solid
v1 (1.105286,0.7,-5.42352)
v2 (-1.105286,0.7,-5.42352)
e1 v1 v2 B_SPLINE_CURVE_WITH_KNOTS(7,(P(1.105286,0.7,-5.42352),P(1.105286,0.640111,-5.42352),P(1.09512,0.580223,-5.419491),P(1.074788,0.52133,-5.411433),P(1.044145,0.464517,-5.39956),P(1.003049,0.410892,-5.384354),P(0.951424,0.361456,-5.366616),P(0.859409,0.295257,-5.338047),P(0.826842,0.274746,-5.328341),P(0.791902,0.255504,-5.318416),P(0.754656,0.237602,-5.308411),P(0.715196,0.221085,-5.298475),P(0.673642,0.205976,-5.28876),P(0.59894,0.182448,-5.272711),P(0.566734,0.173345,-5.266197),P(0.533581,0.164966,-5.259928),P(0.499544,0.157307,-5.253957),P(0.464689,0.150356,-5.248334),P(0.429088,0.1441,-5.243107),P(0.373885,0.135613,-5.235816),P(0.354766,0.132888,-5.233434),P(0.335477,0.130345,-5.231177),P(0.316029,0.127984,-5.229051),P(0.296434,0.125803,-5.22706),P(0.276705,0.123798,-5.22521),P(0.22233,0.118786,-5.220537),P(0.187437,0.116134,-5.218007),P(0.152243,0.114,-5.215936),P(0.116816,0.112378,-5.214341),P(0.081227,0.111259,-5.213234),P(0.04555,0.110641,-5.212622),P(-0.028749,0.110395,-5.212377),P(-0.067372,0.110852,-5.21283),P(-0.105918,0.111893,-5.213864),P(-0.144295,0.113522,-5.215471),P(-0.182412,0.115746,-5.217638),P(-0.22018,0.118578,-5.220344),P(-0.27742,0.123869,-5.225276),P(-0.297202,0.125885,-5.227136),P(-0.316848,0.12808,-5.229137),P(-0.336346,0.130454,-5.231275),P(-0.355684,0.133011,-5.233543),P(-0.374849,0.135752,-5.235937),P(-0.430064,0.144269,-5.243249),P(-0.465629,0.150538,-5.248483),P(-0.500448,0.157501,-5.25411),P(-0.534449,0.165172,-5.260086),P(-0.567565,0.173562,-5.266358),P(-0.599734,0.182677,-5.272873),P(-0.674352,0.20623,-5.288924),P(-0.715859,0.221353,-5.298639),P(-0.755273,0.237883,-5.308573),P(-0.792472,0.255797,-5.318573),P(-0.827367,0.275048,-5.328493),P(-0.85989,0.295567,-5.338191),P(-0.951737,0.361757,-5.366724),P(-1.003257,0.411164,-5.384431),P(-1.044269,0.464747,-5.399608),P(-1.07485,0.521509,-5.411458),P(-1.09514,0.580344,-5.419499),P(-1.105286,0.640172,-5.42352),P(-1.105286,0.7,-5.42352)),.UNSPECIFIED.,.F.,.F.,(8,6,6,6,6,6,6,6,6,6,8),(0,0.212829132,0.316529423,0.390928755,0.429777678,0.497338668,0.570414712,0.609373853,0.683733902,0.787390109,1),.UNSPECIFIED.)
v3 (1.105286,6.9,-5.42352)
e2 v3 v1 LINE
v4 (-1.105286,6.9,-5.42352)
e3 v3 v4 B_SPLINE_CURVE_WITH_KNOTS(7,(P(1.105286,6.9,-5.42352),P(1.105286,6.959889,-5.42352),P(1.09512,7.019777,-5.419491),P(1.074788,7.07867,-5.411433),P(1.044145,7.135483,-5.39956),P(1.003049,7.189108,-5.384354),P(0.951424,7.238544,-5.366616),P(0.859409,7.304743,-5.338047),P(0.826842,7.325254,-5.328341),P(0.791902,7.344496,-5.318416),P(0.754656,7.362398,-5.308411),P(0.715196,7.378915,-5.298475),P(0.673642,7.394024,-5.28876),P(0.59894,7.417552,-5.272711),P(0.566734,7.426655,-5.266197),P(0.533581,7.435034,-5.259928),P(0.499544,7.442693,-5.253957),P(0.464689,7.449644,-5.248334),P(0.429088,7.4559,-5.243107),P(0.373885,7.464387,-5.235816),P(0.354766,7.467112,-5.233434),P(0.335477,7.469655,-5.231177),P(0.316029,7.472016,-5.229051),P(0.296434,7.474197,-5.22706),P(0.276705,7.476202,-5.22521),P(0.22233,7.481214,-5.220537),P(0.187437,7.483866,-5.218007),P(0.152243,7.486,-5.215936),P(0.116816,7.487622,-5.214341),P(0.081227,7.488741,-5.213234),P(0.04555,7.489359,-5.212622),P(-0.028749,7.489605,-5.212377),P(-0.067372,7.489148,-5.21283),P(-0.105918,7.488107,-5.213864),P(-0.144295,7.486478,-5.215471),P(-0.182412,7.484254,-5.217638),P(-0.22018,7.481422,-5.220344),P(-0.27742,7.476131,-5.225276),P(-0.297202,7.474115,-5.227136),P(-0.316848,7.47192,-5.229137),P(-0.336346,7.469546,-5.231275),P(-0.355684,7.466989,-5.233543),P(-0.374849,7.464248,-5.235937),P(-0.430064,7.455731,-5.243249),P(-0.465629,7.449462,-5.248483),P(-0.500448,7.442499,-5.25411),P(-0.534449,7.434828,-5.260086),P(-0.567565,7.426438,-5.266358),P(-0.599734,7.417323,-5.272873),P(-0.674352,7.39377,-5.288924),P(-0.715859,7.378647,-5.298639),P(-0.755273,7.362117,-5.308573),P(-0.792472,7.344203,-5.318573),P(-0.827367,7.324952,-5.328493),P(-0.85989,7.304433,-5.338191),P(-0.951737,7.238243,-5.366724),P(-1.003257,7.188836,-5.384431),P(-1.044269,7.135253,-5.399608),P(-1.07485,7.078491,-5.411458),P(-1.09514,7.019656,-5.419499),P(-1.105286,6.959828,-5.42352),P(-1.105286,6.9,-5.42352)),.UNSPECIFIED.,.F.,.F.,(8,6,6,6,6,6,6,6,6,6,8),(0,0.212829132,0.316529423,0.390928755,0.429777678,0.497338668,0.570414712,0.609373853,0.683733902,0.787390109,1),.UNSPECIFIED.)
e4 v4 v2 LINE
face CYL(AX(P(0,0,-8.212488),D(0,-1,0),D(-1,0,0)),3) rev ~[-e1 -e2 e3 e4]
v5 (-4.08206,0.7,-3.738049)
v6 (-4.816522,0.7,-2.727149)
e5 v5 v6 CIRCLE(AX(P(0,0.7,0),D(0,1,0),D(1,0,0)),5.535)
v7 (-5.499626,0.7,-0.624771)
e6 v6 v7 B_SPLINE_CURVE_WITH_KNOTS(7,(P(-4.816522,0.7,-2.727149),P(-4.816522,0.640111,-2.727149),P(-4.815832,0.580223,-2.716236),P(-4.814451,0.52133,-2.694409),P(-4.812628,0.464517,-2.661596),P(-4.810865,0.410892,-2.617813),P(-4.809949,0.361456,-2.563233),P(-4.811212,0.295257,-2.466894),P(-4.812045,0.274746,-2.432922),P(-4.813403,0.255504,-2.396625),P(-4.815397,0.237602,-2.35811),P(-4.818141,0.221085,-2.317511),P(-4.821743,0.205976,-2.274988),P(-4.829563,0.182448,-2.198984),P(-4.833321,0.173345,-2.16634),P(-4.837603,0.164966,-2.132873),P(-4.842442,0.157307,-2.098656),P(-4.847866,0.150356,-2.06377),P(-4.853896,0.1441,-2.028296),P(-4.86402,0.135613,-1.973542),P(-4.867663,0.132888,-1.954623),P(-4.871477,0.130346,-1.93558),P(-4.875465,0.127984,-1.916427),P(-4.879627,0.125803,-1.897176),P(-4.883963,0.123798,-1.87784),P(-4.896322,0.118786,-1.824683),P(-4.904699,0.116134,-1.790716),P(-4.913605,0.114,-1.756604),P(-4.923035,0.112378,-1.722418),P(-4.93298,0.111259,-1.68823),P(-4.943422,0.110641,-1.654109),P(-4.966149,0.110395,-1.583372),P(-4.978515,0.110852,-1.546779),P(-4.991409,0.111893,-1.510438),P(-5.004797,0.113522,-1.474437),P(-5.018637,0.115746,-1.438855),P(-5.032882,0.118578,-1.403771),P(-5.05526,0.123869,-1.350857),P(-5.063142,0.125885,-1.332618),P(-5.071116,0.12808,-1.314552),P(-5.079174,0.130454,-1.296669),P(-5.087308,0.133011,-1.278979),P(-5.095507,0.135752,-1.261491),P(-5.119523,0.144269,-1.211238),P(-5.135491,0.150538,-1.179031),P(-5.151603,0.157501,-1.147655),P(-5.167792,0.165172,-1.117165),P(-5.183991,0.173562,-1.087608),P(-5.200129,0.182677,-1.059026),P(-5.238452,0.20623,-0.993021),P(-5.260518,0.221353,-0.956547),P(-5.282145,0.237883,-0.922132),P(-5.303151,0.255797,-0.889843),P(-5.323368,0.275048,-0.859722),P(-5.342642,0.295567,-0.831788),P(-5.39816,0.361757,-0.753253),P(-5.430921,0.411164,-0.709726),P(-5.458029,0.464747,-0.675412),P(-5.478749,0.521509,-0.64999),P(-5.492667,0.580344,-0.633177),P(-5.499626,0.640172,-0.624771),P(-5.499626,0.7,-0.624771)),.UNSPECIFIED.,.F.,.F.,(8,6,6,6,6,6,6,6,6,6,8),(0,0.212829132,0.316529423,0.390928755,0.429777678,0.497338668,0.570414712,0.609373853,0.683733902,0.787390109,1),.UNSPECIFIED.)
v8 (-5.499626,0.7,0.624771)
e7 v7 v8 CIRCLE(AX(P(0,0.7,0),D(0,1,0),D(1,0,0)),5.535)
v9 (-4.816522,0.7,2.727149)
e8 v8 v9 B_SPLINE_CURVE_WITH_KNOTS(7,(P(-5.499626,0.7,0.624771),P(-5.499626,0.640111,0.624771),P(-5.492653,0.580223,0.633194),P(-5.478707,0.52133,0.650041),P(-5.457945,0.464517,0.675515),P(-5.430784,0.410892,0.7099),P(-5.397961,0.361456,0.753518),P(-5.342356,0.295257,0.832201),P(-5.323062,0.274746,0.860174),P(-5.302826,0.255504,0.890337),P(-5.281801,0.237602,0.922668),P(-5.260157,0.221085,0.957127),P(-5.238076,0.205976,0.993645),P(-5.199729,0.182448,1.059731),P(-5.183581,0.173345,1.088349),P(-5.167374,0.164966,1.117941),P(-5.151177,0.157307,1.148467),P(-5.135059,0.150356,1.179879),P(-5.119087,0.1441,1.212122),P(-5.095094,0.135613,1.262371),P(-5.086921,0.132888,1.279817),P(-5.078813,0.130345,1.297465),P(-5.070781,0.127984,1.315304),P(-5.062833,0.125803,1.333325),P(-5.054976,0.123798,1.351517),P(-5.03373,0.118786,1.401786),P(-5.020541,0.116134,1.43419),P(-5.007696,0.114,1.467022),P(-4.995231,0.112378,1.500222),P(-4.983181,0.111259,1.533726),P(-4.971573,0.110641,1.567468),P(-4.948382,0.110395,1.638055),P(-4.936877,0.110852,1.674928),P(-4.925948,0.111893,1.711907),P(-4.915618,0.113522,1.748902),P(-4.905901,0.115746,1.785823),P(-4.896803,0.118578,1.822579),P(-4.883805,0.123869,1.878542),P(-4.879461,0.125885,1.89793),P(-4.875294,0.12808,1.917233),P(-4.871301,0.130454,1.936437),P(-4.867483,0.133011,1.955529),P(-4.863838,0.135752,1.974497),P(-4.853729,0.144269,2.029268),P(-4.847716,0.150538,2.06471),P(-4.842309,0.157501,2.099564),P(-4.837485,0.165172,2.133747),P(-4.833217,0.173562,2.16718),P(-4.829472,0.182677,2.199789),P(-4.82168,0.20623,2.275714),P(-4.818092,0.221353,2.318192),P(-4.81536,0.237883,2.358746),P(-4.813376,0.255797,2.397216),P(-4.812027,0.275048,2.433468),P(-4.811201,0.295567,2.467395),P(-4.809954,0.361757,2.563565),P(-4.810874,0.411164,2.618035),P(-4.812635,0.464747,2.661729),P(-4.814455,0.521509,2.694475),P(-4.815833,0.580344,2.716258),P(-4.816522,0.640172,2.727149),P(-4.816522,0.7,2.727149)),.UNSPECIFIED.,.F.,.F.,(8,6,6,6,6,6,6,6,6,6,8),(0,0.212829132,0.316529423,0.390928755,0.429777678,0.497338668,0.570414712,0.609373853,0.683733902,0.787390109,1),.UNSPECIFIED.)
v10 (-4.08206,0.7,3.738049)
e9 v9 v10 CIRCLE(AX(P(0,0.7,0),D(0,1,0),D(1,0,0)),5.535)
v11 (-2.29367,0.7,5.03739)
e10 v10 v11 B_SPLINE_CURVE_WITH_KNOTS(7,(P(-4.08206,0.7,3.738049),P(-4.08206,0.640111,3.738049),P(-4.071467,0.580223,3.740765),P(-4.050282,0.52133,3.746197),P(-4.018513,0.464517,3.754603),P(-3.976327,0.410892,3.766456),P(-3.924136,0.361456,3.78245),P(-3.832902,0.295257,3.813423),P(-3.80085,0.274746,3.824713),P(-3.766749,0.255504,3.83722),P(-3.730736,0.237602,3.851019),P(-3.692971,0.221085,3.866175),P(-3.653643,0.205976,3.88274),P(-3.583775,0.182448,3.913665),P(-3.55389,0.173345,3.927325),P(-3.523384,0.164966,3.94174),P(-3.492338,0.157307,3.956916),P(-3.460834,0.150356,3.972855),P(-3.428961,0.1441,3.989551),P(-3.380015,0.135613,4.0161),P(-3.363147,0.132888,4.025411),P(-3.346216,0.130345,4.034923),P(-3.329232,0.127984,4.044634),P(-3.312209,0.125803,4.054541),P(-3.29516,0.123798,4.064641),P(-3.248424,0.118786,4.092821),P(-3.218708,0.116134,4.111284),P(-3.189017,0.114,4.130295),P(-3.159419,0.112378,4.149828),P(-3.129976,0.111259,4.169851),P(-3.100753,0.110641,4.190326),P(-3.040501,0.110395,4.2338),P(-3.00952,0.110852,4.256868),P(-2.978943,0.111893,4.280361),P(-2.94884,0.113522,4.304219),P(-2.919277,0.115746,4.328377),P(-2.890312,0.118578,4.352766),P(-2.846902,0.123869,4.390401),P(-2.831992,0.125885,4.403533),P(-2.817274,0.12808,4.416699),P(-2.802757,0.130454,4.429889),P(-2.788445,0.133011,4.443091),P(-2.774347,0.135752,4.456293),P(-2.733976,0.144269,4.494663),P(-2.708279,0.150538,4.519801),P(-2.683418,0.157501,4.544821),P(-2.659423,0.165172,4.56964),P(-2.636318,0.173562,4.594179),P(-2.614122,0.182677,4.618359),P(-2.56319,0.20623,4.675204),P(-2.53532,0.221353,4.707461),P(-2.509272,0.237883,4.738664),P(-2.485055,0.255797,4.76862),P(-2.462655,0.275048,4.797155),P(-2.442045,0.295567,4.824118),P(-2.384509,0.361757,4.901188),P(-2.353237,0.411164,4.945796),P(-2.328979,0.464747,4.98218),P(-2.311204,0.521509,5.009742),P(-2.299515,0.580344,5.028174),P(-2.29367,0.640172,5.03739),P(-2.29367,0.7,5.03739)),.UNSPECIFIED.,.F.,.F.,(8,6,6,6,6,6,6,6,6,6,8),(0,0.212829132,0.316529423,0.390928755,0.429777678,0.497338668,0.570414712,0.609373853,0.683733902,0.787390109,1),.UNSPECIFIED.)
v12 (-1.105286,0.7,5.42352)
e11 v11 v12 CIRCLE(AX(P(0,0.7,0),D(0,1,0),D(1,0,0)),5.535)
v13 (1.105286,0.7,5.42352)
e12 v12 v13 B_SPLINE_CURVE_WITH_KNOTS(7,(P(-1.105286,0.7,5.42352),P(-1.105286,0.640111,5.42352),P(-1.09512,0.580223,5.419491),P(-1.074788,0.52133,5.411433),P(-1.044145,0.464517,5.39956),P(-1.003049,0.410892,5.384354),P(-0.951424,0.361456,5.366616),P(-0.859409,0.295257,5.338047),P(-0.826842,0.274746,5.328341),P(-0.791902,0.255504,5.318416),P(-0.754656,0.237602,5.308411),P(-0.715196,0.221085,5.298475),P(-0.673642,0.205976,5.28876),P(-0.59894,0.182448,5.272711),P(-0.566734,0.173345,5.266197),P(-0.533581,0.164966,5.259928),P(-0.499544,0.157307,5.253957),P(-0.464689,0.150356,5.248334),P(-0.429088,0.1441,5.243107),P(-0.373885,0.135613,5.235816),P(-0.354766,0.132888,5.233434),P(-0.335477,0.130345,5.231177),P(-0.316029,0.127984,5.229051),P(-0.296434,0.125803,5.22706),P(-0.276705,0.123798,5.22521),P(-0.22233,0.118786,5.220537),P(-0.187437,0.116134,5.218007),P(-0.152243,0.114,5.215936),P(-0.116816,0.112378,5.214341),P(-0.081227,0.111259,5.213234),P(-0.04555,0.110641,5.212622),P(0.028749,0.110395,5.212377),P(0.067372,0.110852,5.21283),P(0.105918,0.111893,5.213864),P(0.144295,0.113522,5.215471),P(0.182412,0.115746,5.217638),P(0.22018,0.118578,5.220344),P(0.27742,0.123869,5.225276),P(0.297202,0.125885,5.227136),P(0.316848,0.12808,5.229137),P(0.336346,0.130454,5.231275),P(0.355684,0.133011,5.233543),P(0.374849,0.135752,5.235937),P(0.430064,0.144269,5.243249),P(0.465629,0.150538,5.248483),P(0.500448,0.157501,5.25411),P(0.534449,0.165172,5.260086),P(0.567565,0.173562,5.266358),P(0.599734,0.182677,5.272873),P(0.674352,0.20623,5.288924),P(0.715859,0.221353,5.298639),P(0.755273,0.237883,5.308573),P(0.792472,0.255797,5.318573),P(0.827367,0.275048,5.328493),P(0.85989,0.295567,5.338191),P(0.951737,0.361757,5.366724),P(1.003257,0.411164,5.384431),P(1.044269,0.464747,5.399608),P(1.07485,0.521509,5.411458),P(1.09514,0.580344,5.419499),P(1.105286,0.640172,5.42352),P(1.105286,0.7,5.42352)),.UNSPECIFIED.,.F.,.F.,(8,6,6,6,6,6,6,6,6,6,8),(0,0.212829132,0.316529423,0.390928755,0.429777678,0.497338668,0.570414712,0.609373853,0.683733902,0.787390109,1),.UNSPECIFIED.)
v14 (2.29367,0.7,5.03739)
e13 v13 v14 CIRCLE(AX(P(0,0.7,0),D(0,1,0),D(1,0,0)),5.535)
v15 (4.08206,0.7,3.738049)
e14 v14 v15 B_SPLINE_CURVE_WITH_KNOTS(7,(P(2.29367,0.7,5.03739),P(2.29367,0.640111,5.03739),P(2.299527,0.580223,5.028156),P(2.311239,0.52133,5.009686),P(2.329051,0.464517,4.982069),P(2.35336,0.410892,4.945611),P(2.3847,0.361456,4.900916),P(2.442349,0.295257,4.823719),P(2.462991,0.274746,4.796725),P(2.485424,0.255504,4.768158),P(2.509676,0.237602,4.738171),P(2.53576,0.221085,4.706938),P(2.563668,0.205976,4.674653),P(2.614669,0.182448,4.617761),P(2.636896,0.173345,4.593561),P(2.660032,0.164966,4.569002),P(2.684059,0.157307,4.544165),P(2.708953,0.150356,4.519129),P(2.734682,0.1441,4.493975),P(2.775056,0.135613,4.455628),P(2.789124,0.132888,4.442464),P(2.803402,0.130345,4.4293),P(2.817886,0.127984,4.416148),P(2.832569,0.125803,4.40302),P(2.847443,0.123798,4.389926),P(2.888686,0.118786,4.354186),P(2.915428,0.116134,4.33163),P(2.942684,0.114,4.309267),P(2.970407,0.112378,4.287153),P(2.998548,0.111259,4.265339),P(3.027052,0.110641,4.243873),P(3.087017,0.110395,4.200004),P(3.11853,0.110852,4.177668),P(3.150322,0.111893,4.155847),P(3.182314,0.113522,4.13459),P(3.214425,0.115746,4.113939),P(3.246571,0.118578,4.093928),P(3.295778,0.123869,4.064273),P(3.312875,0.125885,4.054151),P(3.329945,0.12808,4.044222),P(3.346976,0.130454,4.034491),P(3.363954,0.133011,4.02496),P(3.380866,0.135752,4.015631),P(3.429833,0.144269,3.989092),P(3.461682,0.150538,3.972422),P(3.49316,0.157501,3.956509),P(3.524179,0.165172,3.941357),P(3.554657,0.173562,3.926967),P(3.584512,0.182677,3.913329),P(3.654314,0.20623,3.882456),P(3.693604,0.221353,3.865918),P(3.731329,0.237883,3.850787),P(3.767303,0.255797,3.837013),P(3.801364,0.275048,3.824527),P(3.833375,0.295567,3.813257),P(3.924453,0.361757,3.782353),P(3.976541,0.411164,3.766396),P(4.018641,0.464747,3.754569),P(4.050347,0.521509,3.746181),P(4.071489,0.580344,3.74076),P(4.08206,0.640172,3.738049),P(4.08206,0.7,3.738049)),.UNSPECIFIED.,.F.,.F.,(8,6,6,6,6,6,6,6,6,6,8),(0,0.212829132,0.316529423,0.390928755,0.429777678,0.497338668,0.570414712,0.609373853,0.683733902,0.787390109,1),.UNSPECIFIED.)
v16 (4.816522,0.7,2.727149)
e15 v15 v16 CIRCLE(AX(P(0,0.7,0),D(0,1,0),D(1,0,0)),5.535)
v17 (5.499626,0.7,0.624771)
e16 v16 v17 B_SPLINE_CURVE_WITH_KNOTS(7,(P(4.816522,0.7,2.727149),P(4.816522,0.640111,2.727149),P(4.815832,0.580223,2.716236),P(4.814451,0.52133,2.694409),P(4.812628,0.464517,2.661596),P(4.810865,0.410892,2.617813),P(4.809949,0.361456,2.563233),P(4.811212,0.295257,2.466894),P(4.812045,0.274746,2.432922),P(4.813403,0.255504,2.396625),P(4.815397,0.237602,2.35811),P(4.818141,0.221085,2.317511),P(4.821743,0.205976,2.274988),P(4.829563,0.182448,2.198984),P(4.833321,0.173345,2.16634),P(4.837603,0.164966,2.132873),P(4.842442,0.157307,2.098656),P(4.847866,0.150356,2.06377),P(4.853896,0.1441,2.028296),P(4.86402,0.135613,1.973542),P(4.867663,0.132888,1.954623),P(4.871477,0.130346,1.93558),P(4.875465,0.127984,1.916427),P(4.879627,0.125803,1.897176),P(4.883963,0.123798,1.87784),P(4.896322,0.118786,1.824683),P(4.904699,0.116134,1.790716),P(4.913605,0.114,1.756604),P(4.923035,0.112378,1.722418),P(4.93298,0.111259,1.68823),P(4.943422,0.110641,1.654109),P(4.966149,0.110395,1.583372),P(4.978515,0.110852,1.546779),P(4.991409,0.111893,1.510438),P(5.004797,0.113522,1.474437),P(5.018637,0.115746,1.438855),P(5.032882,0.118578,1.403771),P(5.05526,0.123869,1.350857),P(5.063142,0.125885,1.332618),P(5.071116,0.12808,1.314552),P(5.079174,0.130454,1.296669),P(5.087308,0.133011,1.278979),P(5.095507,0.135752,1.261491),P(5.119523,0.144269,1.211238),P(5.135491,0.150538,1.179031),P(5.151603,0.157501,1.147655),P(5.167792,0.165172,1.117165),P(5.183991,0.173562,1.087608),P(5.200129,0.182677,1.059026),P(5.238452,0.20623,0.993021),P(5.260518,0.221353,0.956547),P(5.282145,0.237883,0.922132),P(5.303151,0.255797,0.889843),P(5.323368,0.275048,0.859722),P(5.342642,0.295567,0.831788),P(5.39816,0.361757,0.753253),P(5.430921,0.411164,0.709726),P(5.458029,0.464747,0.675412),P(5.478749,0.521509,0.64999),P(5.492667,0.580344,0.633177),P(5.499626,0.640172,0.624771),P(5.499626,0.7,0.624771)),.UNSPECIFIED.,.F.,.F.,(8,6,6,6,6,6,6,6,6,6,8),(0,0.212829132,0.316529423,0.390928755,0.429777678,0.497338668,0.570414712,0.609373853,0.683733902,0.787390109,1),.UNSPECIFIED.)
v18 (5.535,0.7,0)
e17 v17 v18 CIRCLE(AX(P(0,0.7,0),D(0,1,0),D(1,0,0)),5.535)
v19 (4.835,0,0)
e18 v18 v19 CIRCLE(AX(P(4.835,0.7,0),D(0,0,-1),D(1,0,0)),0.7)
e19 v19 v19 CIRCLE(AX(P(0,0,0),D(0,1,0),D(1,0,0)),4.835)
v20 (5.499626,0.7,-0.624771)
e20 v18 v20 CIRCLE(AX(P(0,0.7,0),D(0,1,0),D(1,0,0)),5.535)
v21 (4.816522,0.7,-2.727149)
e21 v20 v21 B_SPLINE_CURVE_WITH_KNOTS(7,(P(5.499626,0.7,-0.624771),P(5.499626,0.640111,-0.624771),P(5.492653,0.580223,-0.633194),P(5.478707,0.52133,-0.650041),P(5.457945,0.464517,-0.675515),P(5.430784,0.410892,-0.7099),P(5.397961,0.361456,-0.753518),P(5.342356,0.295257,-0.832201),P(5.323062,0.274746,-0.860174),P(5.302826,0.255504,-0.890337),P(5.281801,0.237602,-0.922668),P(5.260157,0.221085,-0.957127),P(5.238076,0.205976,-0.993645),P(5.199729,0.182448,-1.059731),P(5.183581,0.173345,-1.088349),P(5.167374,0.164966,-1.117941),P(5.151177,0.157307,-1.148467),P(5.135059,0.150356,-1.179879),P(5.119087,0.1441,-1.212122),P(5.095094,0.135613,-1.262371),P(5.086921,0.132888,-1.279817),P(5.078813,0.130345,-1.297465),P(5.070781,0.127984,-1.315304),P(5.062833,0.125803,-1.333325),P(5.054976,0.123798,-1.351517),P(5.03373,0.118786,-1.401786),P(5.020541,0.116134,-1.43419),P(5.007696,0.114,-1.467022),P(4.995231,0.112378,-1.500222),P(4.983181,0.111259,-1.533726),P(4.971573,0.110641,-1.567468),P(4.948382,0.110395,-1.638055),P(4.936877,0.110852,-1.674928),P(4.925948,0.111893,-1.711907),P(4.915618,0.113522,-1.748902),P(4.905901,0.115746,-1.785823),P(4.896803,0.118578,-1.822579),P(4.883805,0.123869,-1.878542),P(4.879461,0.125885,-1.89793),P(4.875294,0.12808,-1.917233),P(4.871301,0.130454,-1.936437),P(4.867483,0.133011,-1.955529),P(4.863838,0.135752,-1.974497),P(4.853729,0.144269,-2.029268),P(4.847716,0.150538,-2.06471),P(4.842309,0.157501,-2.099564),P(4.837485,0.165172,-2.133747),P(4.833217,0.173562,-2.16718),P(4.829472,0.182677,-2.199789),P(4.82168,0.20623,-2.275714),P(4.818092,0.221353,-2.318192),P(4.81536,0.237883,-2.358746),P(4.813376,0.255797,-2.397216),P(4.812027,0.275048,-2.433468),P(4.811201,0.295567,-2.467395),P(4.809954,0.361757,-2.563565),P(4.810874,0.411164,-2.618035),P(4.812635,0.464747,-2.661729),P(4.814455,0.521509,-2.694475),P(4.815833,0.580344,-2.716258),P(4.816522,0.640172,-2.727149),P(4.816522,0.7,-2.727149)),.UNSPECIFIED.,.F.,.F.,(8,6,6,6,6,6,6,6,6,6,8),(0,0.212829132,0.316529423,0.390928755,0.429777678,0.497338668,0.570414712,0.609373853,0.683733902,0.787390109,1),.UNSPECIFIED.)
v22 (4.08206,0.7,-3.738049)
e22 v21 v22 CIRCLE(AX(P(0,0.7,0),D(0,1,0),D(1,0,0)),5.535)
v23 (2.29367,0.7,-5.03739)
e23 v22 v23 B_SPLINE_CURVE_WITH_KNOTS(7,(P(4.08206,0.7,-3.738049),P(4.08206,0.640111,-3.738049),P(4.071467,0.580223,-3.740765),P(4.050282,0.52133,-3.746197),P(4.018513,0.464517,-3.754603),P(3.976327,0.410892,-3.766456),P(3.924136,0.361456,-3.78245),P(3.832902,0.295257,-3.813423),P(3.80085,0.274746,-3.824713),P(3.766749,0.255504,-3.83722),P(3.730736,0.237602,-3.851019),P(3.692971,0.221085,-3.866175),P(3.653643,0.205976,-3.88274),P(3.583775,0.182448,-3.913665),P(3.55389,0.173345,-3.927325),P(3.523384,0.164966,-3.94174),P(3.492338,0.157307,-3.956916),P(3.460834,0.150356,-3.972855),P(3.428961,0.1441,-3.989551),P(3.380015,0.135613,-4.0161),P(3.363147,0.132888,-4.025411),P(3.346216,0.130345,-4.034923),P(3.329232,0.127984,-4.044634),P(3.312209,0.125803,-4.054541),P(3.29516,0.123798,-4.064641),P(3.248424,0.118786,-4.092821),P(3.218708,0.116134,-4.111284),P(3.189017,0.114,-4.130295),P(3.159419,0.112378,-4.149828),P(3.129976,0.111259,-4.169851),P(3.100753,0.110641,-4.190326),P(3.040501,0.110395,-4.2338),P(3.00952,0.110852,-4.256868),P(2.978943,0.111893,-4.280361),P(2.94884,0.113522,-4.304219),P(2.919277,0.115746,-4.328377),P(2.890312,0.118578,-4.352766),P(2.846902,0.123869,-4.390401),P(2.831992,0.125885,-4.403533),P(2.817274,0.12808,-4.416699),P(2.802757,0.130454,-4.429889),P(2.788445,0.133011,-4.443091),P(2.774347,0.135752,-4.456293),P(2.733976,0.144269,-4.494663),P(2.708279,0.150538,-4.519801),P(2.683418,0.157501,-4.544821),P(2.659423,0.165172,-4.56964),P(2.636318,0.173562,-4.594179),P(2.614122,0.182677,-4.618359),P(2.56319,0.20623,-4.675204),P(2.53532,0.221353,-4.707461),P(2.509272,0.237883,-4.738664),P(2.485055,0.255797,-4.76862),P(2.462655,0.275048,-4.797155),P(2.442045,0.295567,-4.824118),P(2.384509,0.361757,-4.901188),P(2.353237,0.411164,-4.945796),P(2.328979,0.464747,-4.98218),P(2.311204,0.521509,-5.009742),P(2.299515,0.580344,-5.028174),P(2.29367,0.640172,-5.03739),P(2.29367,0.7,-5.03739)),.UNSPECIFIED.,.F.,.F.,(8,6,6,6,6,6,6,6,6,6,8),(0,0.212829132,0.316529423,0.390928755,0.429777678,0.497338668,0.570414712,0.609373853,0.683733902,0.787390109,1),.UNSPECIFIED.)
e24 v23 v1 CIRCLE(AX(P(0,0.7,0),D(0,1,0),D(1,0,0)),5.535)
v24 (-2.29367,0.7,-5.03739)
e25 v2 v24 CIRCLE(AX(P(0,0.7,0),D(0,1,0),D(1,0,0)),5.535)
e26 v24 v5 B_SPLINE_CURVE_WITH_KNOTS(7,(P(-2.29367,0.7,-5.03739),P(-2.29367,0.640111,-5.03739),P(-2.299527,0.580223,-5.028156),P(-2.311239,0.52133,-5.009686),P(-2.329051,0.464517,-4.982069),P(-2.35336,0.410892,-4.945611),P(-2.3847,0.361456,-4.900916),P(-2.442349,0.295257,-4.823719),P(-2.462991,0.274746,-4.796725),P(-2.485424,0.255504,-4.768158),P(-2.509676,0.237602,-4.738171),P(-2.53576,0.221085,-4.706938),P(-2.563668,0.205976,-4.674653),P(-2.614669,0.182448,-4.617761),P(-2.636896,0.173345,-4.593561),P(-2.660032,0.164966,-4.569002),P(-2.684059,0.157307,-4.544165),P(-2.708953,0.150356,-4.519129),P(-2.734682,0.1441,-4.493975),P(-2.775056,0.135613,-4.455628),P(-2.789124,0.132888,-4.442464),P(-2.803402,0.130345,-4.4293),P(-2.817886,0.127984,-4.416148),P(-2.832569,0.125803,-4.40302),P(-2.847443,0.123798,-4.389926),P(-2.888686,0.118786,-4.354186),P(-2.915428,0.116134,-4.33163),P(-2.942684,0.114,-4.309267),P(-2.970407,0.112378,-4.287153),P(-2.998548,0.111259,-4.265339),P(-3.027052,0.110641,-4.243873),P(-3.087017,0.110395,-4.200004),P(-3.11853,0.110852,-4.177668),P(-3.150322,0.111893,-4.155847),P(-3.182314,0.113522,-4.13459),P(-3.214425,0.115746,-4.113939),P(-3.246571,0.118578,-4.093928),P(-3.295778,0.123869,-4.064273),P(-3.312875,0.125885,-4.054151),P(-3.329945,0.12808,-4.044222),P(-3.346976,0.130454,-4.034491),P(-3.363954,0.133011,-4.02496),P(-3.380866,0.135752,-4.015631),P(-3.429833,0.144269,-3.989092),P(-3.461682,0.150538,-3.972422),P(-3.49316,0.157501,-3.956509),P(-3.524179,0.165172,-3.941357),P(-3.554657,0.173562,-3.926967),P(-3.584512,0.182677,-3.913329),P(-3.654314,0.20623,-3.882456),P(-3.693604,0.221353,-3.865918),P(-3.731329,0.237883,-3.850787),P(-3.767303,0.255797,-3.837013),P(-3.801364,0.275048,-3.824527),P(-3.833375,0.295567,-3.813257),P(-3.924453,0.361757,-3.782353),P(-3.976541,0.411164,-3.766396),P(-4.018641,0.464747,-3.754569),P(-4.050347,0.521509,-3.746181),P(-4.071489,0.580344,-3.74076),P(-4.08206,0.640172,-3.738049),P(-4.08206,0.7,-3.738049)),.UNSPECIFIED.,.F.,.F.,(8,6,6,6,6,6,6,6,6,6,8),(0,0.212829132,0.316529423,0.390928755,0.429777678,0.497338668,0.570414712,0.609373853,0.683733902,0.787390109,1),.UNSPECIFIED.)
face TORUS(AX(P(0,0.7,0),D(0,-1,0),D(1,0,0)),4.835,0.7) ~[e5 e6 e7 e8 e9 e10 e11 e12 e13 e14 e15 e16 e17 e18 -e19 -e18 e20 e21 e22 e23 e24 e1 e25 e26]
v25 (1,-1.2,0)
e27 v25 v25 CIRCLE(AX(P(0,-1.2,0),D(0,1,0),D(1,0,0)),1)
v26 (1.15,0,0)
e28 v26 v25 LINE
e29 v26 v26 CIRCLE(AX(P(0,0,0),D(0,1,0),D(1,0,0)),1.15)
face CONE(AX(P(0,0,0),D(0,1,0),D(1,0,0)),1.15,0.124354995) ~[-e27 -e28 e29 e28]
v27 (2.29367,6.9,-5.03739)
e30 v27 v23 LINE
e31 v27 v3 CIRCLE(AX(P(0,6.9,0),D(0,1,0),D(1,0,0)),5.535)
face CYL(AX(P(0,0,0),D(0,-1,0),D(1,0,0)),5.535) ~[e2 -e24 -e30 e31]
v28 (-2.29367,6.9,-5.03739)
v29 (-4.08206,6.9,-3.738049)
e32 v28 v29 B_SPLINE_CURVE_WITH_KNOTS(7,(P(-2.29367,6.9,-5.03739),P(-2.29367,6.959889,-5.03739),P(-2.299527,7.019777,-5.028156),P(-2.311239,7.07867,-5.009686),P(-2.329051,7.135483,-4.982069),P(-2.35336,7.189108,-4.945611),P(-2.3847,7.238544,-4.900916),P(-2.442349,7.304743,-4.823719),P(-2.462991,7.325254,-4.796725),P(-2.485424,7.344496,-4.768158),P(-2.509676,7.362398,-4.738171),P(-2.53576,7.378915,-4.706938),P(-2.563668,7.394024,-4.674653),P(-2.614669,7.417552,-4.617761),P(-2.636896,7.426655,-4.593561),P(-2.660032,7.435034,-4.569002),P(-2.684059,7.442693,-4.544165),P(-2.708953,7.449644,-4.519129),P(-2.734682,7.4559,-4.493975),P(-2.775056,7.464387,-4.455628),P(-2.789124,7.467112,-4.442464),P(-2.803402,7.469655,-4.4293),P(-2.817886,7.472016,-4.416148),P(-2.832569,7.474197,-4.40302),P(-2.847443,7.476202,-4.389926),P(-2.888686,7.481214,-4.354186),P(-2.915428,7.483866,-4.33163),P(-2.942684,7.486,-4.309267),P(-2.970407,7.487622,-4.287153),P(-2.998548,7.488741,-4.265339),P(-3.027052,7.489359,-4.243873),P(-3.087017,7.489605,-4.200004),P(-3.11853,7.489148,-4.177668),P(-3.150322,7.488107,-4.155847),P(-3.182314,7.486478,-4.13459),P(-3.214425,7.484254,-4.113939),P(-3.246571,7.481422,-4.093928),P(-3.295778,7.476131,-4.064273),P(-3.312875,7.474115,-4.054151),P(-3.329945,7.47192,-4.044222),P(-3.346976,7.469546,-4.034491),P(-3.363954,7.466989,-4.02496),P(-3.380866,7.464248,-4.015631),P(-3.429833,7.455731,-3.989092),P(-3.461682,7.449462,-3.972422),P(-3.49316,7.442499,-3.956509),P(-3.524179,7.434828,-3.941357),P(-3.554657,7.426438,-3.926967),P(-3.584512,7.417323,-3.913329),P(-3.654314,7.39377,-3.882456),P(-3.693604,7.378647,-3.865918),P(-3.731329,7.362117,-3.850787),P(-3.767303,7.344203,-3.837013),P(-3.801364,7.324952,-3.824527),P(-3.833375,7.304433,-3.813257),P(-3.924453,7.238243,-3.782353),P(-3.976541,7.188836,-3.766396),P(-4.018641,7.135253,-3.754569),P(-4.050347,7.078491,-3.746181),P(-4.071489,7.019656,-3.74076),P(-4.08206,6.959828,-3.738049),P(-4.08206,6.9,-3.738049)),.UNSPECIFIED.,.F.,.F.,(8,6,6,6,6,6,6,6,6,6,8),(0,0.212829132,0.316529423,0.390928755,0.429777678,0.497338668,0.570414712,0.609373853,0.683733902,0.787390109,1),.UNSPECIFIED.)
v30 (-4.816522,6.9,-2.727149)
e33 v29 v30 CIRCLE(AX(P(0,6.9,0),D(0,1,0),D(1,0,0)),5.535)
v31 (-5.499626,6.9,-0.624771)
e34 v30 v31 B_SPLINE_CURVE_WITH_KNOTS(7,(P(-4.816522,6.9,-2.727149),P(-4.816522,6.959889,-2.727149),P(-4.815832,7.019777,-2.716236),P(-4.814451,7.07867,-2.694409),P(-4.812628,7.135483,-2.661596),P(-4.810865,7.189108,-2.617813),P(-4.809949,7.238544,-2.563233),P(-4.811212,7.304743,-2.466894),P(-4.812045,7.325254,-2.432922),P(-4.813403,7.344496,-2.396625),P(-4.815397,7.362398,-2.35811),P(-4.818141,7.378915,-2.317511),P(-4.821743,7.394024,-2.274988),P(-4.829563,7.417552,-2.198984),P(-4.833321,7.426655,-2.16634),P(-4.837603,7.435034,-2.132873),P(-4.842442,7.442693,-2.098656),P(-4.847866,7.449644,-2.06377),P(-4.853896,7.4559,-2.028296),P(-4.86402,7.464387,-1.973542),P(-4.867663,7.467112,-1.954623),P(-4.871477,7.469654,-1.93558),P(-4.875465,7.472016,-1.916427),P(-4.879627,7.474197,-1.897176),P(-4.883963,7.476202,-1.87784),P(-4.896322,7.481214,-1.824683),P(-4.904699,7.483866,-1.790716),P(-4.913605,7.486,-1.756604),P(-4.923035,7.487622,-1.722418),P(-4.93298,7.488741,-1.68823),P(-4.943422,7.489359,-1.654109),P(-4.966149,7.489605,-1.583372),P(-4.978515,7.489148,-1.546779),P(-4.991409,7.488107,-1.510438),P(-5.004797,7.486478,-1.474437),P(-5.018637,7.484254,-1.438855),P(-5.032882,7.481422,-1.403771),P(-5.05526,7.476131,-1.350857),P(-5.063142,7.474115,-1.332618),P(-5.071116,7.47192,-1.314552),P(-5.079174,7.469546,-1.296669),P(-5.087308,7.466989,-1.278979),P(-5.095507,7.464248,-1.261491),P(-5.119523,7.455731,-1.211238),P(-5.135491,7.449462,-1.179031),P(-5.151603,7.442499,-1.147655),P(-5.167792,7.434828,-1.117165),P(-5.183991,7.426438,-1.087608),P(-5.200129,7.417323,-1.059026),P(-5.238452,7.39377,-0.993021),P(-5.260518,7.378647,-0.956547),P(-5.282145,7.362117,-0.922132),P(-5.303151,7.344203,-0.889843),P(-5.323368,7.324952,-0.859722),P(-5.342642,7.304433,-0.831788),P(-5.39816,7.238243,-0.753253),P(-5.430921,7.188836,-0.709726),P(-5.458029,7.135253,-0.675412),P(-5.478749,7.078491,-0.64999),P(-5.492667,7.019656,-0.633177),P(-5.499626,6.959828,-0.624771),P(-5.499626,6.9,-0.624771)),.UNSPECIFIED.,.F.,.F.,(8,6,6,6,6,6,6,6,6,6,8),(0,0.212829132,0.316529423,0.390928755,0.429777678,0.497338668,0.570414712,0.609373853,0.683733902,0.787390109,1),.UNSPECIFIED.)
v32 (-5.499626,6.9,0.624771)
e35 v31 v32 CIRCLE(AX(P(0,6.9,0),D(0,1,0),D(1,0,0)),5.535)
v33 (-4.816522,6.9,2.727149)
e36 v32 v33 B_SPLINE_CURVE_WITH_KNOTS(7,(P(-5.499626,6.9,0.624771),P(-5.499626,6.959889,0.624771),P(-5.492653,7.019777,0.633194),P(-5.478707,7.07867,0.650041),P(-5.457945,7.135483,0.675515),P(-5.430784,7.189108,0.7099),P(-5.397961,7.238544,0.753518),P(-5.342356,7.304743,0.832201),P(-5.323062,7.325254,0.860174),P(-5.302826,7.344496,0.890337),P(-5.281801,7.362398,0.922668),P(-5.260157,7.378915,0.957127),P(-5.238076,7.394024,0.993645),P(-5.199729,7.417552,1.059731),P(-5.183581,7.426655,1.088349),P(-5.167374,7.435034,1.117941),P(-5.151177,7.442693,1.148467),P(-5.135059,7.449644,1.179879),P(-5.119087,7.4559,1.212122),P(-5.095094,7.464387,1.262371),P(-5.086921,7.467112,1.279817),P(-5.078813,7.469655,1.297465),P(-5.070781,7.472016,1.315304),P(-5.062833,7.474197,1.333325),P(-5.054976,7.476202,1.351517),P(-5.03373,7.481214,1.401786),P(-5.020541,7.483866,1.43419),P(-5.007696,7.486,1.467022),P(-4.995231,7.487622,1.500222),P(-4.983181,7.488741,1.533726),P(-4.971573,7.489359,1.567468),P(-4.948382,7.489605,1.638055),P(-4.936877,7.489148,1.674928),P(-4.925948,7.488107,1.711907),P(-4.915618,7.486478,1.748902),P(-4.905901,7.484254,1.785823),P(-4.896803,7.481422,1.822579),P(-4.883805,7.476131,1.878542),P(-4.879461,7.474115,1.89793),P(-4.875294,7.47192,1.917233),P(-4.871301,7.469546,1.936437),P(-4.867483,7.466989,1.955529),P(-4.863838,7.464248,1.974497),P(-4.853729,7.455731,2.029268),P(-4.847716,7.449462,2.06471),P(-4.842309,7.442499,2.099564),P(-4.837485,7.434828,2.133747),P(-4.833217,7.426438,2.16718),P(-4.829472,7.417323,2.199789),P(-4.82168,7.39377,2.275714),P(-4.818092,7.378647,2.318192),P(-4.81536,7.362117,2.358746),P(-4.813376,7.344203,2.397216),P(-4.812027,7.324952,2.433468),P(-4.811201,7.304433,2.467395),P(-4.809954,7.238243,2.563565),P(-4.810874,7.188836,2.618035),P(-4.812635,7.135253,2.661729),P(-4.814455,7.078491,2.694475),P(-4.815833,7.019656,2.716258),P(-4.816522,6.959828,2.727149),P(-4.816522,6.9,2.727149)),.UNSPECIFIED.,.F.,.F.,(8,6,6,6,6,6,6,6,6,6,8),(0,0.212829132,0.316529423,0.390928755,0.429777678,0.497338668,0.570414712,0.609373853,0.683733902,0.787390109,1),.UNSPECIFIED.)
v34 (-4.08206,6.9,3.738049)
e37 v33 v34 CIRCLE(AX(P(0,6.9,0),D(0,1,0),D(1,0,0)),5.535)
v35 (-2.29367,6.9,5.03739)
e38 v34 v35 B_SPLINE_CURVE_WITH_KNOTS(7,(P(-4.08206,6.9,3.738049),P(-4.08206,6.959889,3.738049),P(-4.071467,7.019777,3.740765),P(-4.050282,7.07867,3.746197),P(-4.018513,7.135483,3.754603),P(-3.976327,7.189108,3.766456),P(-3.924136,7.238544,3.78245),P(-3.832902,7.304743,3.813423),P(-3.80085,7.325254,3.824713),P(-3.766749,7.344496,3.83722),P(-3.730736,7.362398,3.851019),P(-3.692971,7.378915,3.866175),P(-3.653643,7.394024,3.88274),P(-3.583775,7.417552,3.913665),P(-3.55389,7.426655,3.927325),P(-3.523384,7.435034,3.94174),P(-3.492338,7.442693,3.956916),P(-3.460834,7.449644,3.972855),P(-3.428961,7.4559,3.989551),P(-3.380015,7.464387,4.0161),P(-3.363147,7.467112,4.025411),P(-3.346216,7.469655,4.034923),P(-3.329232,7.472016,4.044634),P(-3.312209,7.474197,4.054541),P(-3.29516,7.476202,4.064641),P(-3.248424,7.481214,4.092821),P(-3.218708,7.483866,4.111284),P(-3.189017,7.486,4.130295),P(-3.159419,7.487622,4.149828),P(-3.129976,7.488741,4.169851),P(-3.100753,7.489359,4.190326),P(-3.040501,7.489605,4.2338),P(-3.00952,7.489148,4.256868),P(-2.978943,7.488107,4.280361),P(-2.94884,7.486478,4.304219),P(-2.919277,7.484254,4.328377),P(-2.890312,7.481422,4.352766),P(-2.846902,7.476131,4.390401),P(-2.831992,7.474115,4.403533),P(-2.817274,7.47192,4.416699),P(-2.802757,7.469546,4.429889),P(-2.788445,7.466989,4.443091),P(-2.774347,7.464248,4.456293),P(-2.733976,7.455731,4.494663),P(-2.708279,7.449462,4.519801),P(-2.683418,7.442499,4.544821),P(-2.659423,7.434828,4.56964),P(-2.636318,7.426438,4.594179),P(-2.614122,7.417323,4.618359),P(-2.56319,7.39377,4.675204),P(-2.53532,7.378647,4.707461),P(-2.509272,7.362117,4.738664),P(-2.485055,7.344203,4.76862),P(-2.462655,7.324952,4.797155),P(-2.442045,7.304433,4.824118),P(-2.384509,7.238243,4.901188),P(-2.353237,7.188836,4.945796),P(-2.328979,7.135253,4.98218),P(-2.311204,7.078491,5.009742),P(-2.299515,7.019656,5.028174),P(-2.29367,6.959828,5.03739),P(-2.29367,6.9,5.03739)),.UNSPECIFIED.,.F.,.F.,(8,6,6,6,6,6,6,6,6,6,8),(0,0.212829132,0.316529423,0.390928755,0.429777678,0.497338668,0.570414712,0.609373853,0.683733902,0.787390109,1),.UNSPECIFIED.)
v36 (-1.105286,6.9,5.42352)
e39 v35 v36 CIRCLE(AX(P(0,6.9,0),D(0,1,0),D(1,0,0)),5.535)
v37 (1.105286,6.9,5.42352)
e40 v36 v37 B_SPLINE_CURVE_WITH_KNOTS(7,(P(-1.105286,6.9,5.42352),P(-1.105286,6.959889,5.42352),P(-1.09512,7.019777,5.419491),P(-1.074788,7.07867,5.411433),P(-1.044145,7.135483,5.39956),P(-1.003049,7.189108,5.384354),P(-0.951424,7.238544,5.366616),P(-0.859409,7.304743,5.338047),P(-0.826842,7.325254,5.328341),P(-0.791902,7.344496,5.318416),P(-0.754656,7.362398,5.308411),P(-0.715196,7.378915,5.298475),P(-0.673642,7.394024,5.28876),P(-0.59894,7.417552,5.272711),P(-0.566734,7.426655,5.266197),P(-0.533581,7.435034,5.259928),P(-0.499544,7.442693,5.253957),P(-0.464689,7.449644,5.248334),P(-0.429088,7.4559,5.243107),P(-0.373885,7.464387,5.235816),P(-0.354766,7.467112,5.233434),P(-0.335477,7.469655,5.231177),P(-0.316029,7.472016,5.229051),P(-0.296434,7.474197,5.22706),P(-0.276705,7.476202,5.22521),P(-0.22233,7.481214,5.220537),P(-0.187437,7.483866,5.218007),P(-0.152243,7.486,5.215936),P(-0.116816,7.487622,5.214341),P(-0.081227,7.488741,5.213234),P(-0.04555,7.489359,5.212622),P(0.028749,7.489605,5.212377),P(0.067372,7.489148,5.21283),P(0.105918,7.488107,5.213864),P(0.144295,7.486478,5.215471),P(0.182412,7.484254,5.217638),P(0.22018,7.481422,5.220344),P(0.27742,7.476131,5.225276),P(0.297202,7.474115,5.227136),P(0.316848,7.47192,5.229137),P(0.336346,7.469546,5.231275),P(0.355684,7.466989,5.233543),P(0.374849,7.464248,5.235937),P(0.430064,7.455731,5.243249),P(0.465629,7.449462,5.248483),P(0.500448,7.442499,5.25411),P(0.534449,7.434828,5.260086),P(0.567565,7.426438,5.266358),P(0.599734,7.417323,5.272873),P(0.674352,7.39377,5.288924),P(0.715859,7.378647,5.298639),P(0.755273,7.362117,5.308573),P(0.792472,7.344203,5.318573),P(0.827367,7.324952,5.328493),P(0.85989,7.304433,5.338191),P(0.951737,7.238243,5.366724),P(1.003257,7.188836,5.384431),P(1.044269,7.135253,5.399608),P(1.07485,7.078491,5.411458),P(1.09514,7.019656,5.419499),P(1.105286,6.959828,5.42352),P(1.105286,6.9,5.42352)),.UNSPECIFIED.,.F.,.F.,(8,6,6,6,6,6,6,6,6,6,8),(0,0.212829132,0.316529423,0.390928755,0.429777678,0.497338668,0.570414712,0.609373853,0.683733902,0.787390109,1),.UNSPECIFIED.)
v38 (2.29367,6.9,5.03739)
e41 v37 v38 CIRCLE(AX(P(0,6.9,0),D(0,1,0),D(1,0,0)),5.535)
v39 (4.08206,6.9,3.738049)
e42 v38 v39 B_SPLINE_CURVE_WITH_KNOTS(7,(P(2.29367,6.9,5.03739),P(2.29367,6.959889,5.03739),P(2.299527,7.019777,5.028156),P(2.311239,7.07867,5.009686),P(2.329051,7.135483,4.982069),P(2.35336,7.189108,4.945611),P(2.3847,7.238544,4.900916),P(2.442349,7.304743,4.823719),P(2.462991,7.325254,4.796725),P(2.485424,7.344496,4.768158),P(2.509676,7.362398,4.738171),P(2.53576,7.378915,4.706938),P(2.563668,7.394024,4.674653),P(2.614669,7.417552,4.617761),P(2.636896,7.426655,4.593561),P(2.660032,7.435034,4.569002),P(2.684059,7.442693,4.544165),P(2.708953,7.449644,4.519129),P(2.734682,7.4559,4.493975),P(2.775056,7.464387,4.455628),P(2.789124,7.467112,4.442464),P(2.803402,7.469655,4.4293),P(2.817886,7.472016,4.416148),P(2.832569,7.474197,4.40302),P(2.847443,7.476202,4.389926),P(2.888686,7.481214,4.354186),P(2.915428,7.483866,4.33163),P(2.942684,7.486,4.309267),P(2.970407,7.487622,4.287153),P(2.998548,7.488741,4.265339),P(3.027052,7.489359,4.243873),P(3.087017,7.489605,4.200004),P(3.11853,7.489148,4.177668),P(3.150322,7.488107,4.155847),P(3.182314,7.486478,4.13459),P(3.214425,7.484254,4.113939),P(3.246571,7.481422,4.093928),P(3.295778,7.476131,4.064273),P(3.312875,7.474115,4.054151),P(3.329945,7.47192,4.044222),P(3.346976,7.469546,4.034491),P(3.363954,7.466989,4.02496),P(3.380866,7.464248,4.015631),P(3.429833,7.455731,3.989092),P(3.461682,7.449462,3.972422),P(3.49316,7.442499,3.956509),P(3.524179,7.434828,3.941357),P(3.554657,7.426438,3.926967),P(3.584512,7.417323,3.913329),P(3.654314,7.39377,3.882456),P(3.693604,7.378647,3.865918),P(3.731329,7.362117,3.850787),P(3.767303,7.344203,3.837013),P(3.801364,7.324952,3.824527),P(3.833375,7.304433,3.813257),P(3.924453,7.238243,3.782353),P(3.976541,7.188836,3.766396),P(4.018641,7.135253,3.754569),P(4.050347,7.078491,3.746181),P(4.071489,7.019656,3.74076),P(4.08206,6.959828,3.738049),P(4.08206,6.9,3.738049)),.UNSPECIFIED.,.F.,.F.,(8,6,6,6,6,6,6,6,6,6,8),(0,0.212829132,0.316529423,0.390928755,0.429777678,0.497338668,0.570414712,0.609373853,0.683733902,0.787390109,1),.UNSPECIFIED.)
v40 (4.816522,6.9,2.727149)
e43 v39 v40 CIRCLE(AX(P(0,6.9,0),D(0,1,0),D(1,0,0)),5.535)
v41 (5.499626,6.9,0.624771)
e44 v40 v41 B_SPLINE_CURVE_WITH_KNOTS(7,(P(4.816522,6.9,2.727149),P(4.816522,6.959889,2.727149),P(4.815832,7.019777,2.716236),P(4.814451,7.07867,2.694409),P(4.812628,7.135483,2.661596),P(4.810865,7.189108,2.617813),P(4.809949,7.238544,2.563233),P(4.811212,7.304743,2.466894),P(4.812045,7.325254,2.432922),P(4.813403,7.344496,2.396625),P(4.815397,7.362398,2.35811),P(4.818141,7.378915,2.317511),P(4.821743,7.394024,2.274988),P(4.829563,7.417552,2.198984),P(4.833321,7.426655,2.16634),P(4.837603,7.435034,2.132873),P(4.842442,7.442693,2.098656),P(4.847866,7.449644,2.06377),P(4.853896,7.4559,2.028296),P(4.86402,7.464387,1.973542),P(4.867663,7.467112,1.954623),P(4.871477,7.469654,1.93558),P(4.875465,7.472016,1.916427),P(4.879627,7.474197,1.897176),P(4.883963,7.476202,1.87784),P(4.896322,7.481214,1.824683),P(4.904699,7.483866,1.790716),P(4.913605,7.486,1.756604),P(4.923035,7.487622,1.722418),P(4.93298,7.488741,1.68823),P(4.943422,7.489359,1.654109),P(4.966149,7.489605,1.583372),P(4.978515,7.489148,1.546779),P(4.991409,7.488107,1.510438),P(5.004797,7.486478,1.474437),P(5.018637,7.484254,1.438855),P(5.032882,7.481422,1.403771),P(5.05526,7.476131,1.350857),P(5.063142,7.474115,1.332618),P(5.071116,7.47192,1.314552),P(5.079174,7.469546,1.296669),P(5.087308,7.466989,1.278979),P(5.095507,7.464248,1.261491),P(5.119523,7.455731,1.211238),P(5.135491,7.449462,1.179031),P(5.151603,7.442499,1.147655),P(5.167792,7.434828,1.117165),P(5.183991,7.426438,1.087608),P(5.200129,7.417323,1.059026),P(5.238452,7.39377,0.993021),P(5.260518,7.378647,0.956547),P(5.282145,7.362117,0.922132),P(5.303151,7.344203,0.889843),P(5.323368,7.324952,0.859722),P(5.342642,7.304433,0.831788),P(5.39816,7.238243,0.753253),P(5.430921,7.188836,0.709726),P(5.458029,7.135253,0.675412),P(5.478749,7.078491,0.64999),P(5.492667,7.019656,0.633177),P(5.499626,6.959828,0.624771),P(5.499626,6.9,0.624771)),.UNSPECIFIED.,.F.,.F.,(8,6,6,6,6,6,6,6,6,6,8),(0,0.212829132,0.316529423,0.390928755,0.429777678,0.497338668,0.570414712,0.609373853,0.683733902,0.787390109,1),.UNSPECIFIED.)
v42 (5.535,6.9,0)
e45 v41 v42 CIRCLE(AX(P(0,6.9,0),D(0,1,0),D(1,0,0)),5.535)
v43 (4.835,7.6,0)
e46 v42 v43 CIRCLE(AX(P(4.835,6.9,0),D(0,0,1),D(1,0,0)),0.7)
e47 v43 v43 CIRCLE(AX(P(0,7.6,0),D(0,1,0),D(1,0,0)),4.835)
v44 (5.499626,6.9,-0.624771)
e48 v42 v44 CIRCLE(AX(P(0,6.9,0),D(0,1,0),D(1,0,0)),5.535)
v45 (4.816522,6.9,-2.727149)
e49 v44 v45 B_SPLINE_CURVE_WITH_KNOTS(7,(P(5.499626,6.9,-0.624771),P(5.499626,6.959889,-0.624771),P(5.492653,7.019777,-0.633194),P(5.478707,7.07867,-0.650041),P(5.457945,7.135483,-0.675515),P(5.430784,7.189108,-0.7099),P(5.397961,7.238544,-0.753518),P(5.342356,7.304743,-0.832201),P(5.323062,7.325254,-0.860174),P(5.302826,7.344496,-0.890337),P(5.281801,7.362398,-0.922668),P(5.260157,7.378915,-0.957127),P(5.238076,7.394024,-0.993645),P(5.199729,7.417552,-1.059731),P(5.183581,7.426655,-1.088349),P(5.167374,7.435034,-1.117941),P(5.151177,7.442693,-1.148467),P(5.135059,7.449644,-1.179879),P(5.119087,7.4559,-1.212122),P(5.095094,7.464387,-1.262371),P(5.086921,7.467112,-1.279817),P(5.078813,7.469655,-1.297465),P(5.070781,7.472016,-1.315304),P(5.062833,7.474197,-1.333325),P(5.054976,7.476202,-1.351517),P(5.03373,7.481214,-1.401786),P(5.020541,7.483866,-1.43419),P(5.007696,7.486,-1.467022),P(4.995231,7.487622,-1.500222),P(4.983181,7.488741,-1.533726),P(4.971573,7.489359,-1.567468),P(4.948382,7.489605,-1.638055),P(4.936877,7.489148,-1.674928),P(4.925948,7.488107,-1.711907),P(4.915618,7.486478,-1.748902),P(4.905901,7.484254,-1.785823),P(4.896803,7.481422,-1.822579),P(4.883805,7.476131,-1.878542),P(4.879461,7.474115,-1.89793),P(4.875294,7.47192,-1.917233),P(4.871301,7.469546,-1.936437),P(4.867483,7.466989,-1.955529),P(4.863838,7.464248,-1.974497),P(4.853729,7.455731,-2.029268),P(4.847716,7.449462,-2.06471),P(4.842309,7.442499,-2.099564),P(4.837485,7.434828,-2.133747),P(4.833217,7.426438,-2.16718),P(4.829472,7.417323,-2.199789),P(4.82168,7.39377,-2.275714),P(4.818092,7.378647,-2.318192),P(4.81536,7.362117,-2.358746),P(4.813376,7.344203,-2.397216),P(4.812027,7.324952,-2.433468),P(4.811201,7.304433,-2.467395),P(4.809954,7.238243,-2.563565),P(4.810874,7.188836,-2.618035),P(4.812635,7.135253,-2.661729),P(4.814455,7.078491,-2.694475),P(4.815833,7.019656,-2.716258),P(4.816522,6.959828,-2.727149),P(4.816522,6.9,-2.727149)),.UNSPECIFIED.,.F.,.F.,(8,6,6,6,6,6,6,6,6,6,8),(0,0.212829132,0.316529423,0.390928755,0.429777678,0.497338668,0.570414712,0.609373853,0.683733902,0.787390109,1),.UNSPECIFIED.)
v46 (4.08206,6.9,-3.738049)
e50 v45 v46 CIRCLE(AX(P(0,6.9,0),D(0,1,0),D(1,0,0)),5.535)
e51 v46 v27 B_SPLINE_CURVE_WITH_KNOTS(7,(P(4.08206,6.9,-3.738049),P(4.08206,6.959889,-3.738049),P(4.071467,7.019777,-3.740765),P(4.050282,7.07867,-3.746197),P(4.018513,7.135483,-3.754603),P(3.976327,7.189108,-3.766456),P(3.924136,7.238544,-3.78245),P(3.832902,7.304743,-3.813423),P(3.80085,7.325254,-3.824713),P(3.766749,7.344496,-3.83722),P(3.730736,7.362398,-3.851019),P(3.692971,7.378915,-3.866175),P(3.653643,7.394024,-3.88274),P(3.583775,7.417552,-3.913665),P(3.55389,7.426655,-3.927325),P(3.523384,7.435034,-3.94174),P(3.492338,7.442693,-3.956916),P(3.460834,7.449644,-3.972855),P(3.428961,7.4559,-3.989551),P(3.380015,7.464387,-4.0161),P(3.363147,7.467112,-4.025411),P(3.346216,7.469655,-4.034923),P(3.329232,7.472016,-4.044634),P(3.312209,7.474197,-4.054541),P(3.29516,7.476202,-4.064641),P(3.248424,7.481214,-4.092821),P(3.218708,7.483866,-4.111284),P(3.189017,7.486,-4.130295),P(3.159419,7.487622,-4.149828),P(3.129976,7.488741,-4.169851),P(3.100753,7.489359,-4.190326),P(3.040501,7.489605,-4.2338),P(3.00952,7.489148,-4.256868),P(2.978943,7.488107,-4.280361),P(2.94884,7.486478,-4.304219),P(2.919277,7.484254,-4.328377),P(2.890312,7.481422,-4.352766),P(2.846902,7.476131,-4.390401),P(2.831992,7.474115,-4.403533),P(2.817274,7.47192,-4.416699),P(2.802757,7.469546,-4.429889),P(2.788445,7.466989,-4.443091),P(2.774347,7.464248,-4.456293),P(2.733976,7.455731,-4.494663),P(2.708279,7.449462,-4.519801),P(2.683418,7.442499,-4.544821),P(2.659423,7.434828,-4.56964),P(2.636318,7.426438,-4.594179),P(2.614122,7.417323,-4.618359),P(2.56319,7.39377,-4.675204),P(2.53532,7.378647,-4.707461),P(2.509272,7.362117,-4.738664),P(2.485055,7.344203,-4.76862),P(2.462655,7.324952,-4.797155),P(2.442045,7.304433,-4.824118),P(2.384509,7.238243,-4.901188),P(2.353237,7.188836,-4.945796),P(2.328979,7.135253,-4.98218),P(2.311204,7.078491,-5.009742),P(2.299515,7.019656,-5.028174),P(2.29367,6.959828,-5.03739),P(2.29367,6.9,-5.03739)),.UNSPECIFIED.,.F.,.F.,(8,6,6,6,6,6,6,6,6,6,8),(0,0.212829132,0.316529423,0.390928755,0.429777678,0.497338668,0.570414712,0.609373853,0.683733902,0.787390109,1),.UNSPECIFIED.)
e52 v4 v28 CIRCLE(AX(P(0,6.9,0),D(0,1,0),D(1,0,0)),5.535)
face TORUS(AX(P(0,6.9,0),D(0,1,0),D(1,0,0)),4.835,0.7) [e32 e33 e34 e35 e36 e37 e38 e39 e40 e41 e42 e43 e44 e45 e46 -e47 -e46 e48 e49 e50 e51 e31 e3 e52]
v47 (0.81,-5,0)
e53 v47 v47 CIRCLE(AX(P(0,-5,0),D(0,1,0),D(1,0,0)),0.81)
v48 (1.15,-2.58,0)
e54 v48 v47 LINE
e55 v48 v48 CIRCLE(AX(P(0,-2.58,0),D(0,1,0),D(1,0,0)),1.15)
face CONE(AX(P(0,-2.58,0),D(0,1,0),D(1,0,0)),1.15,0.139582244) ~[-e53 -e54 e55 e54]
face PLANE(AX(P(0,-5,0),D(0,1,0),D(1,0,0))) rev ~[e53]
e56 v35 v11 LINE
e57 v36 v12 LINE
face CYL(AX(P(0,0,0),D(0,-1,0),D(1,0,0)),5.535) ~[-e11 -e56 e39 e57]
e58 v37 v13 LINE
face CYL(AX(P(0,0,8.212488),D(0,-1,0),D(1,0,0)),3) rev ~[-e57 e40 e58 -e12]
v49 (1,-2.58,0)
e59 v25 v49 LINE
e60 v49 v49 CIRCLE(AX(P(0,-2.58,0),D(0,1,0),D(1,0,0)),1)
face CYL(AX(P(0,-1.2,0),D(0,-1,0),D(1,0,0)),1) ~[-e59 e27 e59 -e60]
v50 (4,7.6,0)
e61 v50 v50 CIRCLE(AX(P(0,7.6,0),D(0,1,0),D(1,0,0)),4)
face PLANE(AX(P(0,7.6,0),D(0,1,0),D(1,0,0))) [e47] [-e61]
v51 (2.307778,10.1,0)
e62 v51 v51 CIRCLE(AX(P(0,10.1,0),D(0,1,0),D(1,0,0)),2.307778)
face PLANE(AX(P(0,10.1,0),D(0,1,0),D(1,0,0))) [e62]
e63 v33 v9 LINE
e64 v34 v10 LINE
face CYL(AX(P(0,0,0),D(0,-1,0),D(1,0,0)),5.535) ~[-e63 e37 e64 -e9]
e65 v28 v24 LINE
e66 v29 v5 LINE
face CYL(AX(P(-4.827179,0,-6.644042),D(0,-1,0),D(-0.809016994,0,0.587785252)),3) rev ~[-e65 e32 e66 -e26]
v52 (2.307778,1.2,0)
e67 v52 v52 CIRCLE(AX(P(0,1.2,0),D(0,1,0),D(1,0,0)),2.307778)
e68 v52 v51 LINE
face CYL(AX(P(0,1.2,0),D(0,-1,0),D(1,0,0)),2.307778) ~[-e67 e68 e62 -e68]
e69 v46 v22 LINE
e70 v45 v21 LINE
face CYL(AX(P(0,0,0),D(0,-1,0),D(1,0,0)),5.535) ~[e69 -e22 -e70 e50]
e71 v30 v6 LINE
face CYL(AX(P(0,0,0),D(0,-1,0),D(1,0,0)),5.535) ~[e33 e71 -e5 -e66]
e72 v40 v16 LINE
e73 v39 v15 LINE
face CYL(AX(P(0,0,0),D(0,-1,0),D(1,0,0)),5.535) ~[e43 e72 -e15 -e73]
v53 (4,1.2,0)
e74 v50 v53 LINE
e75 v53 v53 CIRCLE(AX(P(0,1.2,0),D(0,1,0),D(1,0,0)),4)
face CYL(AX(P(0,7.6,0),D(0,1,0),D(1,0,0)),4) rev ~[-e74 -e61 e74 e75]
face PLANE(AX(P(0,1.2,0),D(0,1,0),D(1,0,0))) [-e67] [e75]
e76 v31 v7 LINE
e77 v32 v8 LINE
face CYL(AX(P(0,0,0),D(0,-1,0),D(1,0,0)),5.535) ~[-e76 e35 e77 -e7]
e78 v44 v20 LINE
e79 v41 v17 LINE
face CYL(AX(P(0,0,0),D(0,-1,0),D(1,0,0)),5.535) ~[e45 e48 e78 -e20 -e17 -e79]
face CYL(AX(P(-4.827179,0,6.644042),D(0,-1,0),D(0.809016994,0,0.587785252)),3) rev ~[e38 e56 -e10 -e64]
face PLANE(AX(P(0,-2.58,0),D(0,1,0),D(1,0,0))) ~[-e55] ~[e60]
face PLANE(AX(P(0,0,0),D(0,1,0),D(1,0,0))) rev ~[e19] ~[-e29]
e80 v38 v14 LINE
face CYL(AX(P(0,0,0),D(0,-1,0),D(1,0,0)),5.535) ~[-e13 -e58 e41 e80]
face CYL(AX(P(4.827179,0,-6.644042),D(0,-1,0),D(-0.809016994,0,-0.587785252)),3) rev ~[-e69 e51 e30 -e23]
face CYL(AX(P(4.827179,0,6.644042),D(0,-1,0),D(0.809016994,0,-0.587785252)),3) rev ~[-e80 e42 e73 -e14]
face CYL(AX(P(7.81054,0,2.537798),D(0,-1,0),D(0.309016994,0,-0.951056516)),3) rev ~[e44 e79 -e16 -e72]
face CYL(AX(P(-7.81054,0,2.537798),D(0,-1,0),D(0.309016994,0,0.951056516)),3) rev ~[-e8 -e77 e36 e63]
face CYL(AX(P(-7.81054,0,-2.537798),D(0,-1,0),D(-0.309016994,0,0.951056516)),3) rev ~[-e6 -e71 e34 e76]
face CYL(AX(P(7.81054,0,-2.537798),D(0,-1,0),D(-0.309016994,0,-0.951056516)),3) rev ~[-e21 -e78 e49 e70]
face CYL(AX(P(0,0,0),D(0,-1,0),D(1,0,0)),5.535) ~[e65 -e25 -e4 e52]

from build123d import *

# Parameters (mm, degrees)
SKETCH1_R           = 5.535
BOSS_EXTRUDE1_DEPTH = 7.6
FILLET1_R           = 0.7
SKETCH2_R           = 3
CUT_EXTRUDE1_DEPTH  = 7.6
CIRPATTERN1_COUNT   = 10
SKETCH4_R           = 4
CUT_EXTRUDE2_DEPTH  = 6.4
SKETCH5_R           = 2.307777858
BOSS_EXTRUDE2_DEPTH = 8.9


with BuildPart() as part:
    # Sketch1 → Boss-Extrude1 (new body)
    with BuildSketch(Plane(origin=(0, 0, 0), x_dir=(1, 0, 0), z_dir=(0, 1, 0))):
        Circle(SKETCH1_R)
    extrude(amount=BOSS_EXTRUDE1_DEPTH)

    # Fillet1
    fillet1_edges = [part.edges().sort_by_distance(p)[0] for p in [
        (-5.535, 0, 0),
        (-5.535, 7.6, 0),
    ]]
    fillet(fillet1_edges, radius=FILLET1_R)

    # Sketch2 → Cut-Extrude1 (cut)
    with BuildSketch(Plane(origin=(0, 0, 0), x_dir=(-1, 0, 0), z_dir=(0, -1, 0))):
        with Locations((0, 8.212488156)):
            Circle(SKETCH2_R)
    cut_extrude1 = extrude(amount=-CUT_EXTRUDE1_DEPTH, mode=Mode.SUBTRACT)

    # CirPattern1: Cut-Extrude1 ×10 about axis
    cirpattern1_axis = Axis((0, 0, 0), (0, 1, 0))
    for i in range(1, CIRPATTERN1_COUNT):
        add(cut_extrude1.rotate(cirpattern1_axis, i * 360 / CIRPATTERN1_COUNT), mode=Mode.SUBTRACT)

    # Sketch3 → Revolve1 (revolve)
    with BuildSketch(Plane.XY):
        Polygon((1.15, 0), (1, -1.2), (1, -2.58), (1.15, -2.58), (0.81, -5), (0, -5), (0, 0), align=None)
    revolve(axis=Axis((0, -5, 0), (0, 1, 0)))

    # Sketch4 → Cut-Extrude2 (cut)
    with BuildSketch(Plane(origin=(0, 7.6, 0), x_dir=(1, 0, 0), z_dir=(0, 1, 0))):
        Circle(SKETCH4_R)
    extrude(amount=-CUT_EXTRUDE2_DEPTH, mode=Mode.SUBTRACT)

    # Sketch5 → Boss-Extrude2 (add)
    with BuildSketch(Plane(origin=(0, 1.2, 0), x_dir=(1, 0, 0), z_dir=(0, 1, 0))):
        Circle(SKETCH5_R)
    extrude(amount=BOSS_EXTRUDE2_DEPTH)


solid = part.part
